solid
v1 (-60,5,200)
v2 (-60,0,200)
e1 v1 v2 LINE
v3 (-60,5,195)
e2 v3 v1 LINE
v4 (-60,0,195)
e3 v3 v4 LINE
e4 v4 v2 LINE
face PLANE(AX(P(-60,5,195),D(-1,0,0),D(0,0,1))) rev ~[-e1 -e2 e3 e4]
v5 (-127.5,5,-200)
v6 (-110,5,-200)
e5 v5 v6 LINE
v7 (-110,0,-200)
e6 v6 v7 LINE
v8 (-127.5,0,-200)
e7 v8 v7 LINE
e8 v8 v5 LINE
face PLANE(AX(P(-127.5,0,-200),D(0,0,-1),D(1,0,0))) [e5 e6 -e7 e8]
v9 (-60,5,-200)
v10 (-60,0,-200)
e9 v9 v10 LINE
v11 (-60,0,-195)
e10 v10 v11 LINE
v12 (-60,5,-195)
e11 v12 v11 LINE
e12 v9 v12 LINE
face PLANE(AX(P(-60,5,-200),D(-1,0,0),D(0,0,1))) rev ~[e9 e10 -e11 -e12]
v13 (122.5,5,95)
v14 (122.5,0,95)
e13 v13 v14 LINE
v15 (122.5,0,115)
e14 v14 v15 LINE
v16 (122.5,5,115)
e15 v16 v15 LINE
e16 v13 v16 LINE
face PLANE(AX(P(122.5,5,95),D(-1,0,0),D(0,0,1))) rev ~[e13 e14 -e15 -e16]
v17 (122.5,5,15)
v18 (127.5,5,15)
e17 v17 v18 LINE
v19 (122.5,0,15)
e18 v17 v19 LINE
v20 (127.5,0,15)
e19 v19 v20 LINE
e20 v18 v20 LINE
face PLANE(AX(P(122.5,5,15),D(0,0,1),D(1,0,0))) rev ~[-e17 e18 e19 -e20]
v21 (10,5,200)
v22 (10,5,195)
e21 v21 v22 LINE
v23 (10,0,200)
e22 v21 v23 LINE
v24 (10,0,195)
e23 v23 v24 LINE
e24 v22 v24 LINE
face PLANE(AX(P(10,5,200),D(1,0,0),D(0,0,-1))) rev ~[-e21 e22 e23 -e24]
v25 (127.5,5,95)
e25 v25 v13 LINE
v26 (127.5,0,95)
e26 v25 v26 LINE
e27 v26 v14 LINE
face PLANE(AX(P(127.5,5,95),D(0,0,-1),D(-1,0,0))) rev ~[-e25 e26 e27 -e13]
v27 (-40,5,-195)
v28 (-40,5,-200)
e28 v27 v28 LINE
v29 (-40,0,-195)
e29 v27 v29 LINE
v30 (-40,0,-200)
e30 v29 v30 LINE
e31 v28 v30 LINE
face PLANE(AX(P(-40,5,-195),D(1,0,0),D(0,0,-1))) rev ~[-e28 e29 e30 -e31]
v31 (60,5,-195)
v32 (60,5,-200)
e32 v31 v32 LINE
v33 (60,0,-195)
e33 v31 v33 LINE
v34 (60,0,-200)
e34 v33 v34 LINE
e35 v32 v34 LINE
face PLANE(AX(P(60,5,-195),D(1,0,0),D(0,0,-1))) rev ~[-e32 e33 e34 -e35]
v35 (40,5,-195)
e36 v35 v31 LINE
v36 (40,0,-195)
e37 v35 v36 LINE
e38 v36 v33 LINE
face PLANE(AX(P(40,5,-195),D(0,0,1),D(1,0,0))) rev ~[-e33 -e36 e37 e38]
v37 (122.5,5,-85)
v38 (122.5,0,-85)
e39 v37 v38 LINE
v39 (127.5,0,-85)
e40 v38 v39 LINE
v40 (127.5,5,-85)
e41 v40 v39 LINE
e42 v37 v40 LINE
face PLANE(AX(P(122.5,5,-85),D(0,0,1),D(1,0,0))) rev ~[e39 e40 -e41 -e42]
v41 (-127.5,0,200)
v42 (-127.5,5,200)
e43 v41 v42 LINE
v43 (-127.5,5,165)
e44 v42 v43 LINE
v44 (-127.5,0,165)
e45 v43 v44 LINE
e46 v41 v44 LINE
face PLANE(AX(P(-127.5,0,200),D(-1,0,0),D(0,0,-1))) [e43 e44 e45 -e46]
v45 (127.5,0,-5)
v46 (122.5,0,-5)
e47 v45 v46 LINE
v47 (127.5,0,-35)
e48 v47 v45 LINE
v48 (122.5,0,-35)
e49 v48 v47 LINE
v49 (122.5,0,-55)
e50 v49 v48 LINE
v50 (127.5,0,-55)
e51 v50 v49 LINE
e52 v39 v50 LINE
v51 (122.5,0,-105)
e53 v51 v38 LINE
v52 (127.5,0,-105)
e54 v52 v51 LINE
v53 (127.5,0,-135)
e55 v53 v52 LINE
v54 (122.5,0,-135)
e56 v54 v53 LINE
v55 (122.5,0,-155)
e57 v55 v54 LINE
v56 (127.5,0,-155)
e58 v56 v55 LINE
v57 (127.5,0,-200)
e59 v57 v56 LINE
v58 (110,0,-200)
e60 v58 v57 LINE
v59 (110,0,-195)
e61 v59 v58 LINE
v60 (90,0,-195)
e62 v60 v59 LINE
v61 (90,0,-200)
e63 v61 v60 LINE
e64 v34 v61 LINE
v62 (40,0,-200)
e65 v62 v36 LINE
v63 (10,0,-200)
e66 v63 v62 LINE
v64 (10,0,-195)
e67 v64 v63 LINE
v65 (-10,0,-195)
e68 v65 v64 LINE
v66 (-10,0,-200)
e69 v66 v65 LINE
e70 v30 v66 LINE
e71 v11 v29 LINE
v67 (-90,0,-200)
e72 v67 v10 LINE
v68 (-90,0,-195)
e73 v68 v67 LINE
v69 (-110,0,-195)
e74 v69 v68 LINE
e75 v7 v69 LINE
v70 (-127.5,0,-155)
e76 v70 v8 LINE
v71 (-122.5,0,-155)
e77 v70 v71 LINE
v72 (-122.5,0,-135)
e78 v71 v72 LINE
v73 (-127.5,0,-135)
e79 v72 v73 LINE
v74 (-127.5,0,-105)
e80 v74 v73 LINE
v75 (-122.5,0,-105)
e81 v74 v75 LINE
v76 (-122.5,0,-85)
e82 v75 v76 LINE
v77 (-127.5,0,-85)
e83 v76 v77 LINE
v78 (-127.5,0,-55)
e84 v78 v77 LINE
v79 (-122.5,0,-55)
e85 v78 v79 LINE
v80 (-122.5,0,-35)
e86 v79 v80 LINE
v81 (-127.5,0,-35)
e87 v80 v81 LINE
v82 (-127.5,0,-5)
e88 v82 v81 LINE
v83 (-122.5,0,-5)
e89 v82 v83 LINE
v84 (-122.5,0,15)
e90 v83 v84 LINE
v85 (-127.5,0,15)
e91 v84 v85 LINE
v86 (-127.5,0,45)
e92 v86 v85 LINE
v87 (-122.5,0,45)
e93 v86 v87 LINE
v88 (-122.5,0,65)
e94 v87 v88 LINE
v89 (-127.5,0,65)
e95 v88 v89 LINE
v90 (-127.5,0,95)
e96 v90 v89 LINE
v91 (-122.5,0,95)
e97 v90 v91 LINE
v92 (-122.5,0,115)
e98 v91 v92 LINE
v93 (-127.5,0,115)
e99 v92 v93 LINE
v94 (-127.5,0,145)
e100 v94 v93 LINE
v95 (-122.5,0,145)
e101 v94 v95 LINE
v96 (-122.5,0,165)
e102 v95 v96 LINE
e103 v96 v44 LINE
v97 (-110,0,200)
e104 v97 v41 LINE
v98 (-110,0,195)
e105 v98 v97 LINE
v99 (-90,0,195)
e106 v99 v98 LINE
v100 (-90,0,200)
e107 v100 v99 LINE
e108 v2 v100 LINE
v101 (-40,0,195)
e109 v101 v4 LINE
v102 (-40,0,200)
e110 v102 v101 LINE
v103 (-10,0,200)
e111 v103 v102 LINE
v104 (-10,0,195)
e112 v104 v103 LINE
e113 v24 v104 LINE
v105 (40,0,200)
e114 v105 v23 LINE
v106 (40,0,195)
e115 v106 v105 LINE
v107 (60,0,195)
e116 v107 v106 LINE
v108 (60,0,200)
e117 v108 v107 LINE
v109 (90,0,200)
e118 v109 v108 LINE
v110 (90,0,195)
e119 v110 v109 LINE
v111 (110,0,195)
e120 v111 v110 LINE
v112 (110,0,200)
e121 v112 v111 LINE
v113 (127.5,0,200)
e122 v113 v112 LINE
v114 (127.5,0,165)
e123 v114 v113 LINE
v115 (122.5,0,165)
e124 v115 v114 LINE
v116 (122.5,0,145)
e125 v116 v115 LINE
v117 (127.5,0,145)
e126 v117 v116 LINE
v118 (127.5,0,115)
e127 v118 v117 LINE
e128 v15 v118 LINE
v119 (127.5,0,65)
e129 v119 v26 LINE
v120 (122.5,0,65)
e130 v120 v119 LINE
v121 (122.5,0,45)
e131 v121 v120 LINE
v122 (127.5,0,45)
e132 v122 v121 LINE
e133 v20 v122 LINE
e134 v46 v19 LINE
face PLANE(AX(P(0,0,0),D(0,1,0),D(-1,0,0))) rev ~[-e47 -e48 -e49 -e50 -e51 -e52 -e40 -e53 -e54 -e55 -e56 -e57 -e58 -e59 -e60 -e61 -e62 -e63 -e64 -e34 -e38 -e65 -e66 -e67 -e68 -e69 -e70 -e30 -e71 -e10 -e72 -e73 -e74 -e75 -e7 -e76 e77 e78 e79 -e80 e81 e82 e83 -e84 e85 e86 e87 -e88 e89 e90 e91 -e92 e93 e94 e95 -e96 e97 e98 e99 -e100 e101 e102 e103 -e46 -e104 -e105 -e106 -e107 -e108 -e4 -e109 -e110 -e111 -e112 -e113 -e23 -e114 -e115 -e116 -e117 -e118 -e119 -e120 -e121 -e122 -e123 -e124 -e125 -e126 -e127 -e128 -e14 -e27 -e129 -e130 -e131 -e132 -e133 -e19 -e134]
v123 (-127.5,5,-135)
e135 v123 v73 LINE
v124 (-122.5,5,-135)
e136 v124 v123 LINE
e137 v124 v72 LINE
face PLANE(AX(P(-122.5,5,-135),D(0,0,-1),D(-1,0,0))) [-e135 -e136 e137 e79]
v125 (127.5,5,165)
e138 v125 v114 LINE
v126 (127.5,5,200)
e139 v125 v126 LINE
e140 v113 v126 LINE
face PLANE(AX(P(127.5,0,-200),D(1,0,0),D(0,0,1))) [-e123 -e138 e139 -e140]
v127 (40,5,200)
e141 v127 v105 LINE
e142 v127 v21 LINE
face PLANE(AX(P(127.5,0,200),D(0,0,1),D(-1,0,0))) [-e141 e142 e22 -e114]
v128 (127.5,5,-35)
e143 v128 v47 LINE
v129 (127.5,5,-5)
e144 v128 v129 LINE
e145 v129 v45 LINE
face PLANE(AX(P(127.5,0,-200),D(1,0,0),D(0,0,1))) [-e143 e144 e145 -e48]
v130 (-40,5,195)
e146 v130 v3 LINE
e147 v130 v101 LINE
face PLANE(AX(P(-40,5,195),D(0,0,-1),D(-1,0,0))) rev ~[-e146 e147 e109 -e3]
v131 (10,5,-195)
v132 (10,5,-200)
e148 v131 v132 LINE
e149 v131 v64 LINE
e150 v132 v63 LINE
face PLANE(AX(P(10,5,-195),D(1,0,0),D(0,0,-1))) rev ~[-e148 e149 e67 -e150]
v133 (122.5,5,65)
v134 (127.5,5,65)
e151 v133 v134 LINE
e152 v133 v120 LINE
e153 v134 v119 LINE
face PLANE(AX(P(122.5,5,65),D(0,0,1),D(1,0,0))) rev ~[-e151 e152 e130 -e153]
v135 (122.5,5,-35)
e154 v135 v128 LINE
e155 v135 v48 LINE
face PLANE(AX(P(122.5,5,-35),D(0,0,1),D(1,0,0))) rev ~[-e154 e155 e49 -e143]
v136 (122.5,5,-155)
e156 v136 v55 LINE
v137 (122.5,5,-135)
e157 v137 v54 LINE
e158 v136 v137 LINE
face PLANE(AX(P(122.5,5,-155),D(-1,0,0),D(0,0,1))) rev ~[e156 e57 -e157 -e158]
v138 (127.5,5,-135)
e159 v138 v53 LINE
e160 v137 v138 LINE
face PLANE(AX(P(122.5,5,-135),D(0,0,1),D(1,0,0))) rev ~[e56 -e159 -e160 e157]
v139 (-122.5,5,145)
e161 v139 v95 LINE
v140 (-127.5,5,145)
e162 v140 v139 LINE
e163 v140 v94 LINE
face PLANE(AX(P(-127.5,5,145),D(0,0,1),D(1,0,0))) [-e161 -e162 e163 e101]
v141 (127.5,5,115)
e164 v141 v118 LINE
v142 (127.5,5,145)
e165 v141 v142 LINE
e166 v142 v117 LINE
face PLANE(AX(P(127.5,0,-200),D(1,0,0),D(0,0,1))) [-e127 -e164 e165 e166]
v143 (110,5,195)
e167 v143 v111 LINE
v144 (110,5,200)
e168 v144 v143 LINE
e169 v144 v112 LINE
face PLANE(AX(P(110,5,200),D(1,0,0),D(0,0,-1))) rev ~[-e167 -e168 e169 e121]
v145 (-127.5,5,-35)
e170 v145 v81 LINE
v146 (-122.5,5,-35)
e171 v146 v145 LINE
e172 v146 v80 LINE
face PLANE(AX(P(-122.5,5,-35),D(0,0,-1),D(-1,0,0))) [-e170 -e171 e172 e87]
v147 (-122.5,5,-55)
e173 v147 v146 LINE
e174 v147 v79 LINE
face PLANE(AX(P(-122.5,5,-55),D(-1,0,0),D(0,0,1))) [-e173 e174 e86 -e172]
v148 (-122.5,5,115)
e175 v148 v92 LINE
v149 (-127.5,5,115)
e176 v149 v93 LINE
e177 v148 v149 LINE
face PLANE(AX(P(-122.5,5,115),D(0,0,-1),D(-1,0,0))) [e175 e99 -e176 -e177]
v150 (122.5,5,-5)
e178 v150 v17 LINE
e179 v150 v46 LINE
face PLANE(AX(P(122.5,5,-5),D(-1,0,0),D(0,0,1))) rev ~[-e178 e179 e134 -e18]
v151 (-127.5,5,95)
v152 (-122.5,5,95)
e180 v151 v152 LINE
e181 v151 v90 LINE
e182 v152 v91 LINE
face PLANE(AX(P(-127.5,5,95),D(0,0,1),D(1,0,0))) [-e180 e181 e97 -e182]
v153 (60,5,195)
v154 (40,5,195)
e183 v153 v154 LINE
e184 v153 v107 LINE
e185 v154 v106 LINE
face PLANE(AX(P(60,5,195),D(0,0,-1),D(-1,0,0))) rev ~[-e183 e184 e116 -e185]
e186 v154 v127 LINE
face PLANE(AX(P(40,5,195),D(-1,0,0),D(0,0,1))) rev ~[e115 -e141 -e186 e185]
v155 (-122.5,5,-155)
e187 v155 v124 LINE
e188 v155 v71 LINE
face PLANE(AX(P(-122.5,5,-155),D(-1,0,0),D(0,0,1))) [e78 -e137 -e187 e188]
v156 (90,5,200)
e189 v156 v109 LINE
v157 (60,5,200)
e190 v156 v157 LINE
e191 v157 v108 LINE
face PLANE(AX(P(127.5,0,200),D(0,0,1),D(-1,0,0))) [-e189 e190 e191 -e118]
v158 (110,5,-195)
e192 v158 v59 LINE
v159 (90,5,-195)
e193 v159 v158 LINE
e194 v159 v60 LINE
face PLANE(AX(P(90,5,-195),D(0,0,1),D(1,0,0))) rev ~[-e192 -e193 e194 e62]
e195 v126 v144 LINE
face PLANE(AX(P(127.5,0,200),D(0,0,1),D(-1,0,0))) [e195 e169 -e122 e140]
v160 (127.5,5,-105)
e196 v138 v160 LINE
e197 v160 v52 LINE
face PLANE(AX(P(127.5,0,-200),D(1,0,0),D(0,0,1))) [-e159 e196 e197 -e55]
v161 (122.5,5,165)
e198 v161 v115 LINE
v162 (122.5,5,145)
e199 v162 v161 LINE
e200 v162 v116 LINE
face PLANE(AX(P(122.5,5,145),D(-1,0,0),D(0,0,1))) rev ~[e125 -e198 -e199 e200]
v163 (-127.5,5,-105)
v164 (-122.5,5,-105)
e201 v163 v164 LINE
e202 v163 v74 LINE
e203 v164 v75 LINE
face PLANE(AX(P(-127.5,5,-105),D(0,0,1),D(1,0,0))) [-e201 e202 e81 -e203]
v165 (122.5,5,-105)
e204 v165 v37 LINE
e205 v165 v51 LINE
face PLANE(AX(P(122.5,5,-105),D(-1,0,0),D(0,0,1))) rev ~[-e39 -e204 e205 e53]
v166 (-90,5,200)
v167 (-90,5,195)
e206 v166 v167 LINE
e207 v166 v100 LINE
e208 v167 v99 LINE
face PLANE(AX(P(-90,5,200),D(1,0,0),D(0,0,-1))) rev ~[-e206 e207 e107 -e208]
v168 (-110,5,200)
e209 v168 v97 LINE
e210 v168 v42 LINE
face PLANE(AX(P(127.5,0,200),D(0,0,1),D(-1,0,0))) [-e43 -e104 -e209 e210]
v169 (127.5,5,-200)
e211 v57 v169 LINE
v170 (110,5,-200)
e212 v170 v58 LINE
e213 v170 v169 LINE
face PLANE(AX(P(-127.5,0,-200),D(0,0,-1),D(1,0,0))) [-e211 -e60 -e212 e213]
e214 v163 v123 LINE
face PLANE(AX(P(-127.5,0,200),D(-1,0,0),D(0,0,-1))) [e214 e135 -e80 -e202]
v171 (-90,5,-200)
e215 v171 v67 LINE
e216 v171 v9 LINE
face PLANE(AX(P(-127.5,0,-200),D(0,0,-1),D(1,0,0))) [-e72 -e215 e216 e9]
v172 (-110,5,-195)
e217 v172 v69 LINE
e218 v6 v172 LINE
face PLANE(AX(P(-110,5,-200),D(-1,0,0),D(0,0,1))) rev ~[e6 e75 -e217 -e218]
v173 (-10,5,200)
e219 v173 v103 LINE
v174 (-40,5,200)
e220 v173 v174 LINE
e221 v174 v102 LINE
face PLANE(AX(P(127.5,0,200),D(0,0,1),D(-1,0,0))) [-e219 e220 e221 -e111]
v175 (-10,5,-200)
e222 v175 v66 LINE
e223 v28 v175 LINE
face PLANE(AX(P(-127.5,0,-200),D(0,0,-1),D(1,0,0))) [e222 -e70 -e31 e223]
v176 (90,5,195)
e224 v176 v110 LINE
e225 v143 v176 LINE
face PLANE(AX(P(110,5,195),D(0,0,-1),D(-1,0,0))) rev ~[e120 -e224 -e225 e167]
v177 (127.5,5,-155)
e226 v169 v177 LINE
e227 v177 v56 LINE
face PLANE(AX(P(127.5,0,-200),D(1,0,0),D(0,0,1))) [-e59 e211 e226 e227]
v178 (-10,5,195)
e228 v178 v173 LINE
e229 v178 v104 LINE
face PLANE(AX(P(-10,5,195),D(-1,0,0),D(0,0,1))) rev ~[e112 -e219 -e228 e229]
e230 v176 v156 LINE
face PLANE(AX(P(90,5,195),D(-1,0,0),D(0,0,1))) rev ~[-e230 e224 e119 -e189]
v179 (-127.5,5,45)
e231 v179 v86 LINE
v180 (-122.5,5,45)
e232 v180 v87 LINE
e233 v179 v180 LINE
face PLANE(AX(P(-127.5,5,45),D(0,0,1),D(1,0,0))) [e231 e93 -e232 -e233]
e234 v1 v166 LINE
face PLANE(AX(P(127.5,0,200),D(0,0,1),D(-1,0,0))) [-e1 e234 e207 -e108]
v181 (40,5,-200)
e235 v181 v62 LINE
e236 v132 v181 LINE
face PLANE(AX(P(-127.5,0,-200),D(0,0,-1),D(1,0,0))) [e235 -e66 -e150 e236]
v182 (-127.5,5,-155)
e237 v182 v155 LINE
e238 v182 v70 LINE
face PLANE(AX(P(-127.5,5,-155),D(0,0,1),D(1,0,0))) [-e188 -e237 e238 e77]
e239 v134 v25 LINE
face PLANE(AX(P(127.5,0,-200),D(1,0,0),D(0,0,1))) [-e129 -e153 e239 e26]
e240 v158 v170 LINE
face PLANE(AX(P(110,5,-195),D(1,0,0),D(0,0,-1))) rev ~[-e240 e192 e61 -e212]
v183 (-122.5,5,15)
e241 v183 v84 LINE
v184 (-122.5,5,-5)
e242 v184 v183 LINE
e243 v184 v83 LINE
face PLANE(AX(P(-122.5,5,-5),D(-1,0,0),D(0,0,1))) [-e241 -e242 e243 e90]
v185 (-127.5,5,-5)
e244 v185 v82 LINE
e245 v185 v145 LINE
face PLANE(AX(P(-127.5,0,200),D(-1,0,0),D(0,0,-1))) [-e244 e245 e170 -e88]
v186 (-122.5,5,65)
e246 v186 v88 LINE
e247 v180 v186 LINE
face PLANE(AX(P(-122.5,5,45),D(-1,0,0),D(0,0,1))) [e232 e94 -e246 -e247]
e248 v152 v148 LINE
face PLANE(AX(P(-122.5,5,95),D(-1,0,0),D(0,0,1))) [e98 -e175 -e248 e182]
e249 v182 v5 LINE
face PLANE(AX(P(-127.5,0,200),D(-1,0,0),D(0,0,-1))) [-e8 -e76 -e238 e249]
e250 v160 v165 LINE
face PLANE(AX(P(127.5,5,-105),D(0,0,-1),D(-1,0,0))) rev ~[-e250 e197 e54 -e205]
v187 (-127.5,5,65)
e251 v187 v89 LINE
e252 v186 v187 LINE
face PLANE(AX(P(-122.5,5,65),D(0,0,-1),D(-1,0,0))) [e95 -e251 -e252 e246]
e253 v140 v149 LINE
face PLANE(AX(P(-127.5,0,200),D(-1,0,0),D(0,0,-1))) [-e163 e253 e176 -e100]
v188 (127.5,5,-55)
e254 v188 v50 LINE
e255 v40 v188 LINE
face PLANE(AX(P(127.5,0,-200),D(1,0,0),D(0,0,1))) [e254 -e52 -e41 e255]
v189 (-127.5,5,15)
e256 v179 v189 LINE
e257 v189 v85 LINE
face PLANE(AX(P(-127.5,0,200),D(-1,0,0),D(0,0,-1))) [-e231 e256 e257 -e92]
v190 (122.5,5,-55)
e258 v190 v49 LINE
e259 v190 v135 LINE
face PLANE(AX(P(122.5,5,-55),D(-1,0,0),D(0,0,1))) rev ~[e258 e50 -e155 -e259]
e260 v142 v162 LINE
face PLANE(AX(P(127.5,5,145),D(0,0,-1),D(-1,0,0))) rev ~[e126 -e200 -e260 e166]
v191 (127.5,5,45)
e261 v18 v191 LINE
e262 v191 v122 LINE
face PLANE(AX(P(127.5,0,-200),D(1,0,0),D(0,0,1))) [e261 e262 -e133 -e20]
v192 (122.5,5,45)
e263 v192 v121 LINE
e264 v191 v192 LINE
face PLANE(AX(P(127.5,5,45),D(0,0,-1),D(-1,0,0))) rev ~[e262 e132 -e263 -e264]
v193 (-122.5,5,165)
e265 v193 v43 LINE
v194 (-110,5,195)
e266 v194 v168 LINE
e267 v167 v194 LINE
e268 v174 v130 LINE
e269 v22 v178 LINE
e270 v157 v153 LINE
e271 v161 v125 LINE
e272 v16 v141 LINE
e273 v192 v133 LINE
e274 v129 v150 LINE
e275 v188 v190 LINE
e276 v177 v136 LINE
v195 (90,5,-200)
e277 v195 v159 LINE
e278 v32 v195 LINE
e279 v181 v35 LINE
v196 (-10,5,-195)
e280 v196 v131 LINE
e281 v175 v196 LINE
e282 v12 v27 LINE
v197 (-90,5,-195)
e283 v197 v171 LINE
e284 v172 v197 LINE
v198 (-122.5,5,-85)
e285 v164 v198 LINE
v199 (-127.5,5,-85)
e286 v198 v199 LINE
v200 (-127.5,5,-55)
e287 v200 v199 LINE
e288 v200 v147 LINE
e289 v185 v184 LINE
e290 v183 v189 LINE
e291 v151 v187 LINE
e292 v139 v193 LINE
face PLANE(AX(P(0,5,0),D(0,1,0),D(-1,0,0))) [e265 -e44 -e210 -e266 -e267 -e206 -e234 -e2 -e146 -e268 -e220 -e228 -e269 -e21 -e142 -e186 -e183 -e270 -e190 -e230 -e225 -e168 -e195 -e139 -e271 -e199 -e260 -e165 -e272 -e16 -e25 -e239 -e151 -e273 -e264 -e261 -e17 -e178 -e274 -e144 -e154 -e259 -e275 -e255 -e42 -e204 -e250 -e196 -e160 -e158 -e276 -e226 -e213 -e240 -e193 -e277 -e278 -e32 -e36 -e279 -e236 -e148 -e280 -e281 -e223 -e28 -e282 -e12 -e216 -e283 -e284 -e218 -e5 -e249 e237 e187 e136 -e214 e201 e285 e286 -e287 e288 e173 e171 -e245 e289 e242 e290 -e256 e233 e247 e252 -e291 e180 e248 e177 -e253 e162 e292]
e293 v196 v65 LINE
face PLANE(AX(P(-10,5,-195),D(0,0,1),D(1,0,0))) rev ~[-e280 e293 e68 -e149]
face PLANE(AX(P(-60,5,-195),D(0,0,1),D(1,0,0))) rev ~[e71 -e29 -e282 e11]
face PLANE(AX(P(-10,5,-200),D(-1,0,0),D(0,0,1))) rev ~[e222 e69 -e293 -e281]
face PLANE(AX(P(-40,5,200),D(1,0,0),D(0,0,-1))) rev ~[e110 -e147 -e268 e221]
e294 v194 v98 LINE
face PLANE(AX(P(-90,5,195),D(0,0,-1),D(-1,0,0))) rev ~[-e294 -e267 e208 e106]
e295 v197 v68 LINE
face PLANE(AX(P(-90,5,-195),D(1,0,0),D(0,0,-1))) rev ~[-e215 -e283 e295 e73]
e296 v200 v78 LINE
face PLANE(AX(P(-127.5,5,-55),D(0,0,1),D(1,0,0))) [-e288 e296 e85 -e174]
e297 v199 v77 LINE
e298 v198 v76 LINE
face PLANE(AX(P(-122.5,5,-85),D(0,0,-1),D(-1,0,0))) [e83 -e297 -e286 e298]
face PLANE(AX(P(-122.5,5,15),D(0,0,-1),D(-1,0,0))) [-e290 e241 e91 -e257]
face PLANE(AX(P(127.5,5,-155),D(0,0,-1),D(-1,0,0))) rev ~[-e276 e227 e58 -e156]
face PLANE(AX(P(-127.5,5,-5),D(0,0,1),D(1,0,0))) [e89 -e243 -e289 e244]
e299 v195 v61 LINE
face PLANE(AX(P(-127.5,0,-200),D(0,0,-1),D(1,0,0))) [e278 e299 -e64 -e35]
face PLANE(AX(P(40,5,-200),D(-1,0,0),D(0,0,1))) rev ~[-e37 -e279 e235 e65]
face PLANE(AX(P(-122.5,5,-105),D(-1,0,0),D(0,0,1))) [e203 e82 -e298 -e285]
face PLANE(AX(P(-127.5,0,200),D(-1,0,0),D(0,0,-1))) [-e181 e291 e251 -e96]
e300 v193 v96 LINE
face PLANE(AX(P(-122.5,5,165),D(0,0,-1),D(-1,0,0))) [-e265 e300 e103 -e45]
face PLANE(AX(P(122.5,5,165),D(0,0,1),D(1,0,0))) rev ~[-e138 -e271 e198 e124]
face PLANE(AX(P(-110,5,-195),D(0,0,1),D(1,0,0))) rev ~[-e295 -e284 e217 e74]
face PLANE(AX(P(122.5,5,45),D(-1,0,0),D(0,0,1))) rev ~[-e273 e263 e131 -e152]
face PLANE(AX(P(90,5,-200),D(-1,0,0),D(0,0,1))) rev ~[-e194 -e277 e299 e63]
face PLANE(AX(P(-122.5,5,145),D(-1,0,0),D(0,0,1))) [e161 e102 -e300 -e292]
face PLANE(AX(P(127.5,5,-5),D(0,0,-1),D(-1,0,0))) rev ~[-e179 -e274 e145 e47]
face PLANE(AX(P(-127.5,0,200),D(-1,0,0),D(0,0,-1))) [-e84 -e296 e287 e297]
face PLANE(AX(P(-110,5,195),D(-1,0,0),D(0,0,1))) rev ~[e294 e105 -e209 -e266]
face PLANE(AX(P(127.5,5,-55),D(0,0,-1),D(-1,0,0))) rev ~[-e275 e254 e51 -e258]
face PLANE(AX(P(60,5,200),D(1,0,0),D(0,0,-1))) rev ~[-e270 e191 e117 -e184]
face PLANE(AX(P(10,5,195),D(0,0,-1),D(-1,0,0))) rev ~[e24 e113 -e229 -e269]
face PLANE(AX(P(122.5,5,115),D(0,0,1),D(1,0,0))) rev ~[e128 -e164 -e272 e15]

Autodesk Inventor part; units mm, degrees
ref_plane "YZ Plane" through (0, 0, 0) normal (1, 0, 0) x (0, 1, 0)
ref_plane "XZ Plane" through (0, 0, 0) normal (0, 1, 0) x (-1, 0, 0)
ref_plane "XY Plane" through (0, 0, 0) normal (0, 0, 1) x (1, 0, 0)
sketch "Sketch1" plane through (0, 0, 0) normal (0, 1, 0) x (-1, 0, 0)
  line L0 (127.5, -200) -> (-127.5, -200)
  line L1 (-127.5, -200) -> (-127.5, 200)
  line L2 (-127.5, 200) -> (127.5, 200)
  line L3 (127.5, 200) -> (127.5, -200)
  line L4 (127.5, -200) -> (-127.5, 200) construction
  line L5 (-127.5, -200) -> (127.5, 200) construction
  point P0 (0, 0)
  dimension "d0" = 255
  dimension "d1" = 400
extrude "base" add sketch "Sketch1" along normal blind 5
sketch "Sketch5" plane through (0, 5, 0) normal (0, 1, 0) x (1, 0, 0)
  line L0 (-127.5, -200) -> (127.5, -200) projected
  line L1 (-110, -200) -> (-90, -200)
  line L2 (-90, -200) -> (-90, -195)
  line L3 (-90, -195) -> (-110, -195)
  line L4 (-110, -195) -> (-110, -200)
  line L5 (-60, -200) -> (-40, -200)
  line L6 (-40, -200) -> (-40, -195)
  line L7 (-40, -195) -> (-60, -195)
  line L8 (-60, -195) -> (-60, -200)
  line L9 (-10, -200) -> (10, -200)
  line L10 (10, -200) -> (10, -195)
  line L11 (10, -195) -> (-10, -195)
  line L12 (-10, -195) -> (-10, -200)
  line L13 (40, -200) -> (60, -200)
  line L14 (60, -200) -> (60, -195)
  line L15 (60, -195) -> (40, -195)
  line L16 (40, -195) -> (40, -200)
  line L17 (90, -200) -> (110, -200)
  line L18 (110, -200) -> (110, -195)
  line L19 (110, -195) -> (90, -195)
  line L20 (90, -195) -> (90, -200)
  line L21 (-110, 200) -> (-110, 195)
  line L22 (-90, 200) -> (-110, 200)
  line L23 (-110, 195) -> (-90, 195)
  line L24 (-90, 195) -> (-90, 200)
  line L25 (-60, 200) -> (-60, 195)
  line L26 (-40, 200) -> (-60, 200)
  line L27 (-40, 195) -> (-40, 200)
  line L28 (-10, 200) -> (-10, 195)
  line L29 (10, 200) -> (-10, 200)
  line L30 (10, 195) -> (10, 200)
  line L31 (-10, 195) -> (10, 195)
  line L32 (-60, 195) -> (-40, 195)
  line L33 (40, 200) -> (40, 195)
  line L34 (40, 195) -> (60, 195)
  line L35 (60, 200) -> (40, 200)
  line L36 (60, 195) -> (60, 200)
  line L37 (90, 200) -> (90, 195)
  line L38 (90, 195) -> (110, 195)
  line L39 (110, 200) -> (90, 200)
  line L40 (110, 195) -> (110, 200)
  point P0 (0, 0)
  point P1 (90, -200)
  point P2 (110, -200)
  point P3 (-10, -200)
  point P4 (10, -200)
  point P5 (-60, -200)
  point P6 (-40, -200)
  point P7 (40, -200)
  point P8 (60, -200)
  dimension "d36" = 20
  dimension "d37" = 5
  dimension "d40" = 50
  dimension "d45" = 17.5
  dimension "d46" = 17.5
  dimension "d49" = 395
extrude "Extrusion4" cut sketch "Sketch5" against normal blind 5
sketch "Sketch8" plane through (0, 5, 0) normal (0, 1, 0) x (1, 0, 0)
  line L0 (-127.5, 200) -> (-127.5, -200) projected
  line L1 (-127.5, -145) -> (-122.5, -145)
  line L2 (-122.5, -145) -> (-122.5, -165)
  line L3 (-122.5, -165) -> (-127.5, -165)
  line L4 (-127.5, -165) -> (-127.5, -145)
  line L5 (-127.5, -95) -> (-122.5, -95)
  line L6 (-122.5, -95) -> (-122.5, -115)
  line L7 (-122.5, -115) -> (-127.5, -115)
  line L8 (-127.5, -115) -> (-127.5, -95)
  line L9 (-127.5, -45) -> (-122.5, -45)
  line L10 (-122.5, -45) -> (-122.5, -65)
  line L11 (-122.5, -65) -> (-127.5, -65)
  line L12 (-127.5, -65) -> (-127.5, -45)
  line L13 (-127.5, 5) -> (-122.5, 5)
  line L14 (-122.5, 5) -> (-122.5, -15)
  line L15 (-122.5, -15) -> (-127.5, -15)
  line L16 (-127.5, -15) -> (-127.5, 5)
  line L17 (-127.5, 55) -> (-122.5, 55)
  line L18 (-122.5, 55) -> (-122.5, 35)
  line L19 (-122.5, 35) -> (-127.5, 35)
  line L20 (-127.5, 35) -> (-127.5, 55)
  line L21 (-127.5, 105) -> (-122.5, 105)
  line L22 (-122.5, 105) -> (-122.5, 85)
  line L23 (-122.5, 85) -> (-127.5, 85)
  line L24 (-127.5, 85) -> (-127.5, 105)
  line L25 (-127.5, 155) -> (-122.5, 155)
  line L26 (-122.5, 155) -> (-122.5, 135)
  line L27 (-122.5, 135) -> (-127.5, 135)
  line L28 (-127.5, 135) -> (-127.5, 155)
  line L29 (0, 0) -> (0, -33.5633)
  line L30 (127.5, -145) -> (122.5, -145)
  line L31 (122.5, -145) -> (122.5, -165)
  line L32 (122.5, -165) -> (127.5, -165)
  line L33 (127.5, -165) -> (127.5, -145)
  line L34 (127.5, -95) -> (122.5, -95)
  line L35 (122.5, -95) -> (122.5, -115)
  line L36 (122.5, -115) -> (127.5, -115)
  line L37 (127.5, -115) -> (127.5, -95)
  line L38 (127.5, -45) -> (122.5, -45)
  line L39 (122.5, -45) -> (122.5, -65)
  line L40 (122.5, -65) -> (127.5, -65)
  line L41 (127.5, -65) -> (127.5, -45)
  line L42 (127.5, 5) -> (122.5, 5)
  line L43 (122.5, 5) -> (122.5, -15)
  line L44 (122.5, -15) -> (127.5, -15)
  line L45 (127.5, -15) -> (127.5, 5)
  line L46 (127.5, 55) -> (122.5, 55)
  line L47 (122.5, 55) -> (122.5, 35)
  line L48 (122.5, 35) -> (127.5, 35)
  line L49 (127.5, 35) -> (127.5, 55)
  line L50 (127.5, 105) -> (122.5, 105)
  line L51 (122.5, 105) -> (122.5, 85)
  line L52 (122.5, 85) -> (127.5, 85)
  line L53 (127.5, 85) -> (127.5, 105)
  line L54 (127.5, 155) -> (122.5, 155)
  line L55 (122.5, 155) -> (122.5, 135)
  line L56 (122.5, 135) -> (127.5, 135)
  line L57 (127.5, 135) -> (127.5, 155)
  dimension "d82" = 5
  dimension "d83" = 20
  dimension "d84" = 35
  dimension "d87" = 50
extrude "Extrusion7" cut sketch "Sketch8" against normal blind 5
properties part number "base inferior"
